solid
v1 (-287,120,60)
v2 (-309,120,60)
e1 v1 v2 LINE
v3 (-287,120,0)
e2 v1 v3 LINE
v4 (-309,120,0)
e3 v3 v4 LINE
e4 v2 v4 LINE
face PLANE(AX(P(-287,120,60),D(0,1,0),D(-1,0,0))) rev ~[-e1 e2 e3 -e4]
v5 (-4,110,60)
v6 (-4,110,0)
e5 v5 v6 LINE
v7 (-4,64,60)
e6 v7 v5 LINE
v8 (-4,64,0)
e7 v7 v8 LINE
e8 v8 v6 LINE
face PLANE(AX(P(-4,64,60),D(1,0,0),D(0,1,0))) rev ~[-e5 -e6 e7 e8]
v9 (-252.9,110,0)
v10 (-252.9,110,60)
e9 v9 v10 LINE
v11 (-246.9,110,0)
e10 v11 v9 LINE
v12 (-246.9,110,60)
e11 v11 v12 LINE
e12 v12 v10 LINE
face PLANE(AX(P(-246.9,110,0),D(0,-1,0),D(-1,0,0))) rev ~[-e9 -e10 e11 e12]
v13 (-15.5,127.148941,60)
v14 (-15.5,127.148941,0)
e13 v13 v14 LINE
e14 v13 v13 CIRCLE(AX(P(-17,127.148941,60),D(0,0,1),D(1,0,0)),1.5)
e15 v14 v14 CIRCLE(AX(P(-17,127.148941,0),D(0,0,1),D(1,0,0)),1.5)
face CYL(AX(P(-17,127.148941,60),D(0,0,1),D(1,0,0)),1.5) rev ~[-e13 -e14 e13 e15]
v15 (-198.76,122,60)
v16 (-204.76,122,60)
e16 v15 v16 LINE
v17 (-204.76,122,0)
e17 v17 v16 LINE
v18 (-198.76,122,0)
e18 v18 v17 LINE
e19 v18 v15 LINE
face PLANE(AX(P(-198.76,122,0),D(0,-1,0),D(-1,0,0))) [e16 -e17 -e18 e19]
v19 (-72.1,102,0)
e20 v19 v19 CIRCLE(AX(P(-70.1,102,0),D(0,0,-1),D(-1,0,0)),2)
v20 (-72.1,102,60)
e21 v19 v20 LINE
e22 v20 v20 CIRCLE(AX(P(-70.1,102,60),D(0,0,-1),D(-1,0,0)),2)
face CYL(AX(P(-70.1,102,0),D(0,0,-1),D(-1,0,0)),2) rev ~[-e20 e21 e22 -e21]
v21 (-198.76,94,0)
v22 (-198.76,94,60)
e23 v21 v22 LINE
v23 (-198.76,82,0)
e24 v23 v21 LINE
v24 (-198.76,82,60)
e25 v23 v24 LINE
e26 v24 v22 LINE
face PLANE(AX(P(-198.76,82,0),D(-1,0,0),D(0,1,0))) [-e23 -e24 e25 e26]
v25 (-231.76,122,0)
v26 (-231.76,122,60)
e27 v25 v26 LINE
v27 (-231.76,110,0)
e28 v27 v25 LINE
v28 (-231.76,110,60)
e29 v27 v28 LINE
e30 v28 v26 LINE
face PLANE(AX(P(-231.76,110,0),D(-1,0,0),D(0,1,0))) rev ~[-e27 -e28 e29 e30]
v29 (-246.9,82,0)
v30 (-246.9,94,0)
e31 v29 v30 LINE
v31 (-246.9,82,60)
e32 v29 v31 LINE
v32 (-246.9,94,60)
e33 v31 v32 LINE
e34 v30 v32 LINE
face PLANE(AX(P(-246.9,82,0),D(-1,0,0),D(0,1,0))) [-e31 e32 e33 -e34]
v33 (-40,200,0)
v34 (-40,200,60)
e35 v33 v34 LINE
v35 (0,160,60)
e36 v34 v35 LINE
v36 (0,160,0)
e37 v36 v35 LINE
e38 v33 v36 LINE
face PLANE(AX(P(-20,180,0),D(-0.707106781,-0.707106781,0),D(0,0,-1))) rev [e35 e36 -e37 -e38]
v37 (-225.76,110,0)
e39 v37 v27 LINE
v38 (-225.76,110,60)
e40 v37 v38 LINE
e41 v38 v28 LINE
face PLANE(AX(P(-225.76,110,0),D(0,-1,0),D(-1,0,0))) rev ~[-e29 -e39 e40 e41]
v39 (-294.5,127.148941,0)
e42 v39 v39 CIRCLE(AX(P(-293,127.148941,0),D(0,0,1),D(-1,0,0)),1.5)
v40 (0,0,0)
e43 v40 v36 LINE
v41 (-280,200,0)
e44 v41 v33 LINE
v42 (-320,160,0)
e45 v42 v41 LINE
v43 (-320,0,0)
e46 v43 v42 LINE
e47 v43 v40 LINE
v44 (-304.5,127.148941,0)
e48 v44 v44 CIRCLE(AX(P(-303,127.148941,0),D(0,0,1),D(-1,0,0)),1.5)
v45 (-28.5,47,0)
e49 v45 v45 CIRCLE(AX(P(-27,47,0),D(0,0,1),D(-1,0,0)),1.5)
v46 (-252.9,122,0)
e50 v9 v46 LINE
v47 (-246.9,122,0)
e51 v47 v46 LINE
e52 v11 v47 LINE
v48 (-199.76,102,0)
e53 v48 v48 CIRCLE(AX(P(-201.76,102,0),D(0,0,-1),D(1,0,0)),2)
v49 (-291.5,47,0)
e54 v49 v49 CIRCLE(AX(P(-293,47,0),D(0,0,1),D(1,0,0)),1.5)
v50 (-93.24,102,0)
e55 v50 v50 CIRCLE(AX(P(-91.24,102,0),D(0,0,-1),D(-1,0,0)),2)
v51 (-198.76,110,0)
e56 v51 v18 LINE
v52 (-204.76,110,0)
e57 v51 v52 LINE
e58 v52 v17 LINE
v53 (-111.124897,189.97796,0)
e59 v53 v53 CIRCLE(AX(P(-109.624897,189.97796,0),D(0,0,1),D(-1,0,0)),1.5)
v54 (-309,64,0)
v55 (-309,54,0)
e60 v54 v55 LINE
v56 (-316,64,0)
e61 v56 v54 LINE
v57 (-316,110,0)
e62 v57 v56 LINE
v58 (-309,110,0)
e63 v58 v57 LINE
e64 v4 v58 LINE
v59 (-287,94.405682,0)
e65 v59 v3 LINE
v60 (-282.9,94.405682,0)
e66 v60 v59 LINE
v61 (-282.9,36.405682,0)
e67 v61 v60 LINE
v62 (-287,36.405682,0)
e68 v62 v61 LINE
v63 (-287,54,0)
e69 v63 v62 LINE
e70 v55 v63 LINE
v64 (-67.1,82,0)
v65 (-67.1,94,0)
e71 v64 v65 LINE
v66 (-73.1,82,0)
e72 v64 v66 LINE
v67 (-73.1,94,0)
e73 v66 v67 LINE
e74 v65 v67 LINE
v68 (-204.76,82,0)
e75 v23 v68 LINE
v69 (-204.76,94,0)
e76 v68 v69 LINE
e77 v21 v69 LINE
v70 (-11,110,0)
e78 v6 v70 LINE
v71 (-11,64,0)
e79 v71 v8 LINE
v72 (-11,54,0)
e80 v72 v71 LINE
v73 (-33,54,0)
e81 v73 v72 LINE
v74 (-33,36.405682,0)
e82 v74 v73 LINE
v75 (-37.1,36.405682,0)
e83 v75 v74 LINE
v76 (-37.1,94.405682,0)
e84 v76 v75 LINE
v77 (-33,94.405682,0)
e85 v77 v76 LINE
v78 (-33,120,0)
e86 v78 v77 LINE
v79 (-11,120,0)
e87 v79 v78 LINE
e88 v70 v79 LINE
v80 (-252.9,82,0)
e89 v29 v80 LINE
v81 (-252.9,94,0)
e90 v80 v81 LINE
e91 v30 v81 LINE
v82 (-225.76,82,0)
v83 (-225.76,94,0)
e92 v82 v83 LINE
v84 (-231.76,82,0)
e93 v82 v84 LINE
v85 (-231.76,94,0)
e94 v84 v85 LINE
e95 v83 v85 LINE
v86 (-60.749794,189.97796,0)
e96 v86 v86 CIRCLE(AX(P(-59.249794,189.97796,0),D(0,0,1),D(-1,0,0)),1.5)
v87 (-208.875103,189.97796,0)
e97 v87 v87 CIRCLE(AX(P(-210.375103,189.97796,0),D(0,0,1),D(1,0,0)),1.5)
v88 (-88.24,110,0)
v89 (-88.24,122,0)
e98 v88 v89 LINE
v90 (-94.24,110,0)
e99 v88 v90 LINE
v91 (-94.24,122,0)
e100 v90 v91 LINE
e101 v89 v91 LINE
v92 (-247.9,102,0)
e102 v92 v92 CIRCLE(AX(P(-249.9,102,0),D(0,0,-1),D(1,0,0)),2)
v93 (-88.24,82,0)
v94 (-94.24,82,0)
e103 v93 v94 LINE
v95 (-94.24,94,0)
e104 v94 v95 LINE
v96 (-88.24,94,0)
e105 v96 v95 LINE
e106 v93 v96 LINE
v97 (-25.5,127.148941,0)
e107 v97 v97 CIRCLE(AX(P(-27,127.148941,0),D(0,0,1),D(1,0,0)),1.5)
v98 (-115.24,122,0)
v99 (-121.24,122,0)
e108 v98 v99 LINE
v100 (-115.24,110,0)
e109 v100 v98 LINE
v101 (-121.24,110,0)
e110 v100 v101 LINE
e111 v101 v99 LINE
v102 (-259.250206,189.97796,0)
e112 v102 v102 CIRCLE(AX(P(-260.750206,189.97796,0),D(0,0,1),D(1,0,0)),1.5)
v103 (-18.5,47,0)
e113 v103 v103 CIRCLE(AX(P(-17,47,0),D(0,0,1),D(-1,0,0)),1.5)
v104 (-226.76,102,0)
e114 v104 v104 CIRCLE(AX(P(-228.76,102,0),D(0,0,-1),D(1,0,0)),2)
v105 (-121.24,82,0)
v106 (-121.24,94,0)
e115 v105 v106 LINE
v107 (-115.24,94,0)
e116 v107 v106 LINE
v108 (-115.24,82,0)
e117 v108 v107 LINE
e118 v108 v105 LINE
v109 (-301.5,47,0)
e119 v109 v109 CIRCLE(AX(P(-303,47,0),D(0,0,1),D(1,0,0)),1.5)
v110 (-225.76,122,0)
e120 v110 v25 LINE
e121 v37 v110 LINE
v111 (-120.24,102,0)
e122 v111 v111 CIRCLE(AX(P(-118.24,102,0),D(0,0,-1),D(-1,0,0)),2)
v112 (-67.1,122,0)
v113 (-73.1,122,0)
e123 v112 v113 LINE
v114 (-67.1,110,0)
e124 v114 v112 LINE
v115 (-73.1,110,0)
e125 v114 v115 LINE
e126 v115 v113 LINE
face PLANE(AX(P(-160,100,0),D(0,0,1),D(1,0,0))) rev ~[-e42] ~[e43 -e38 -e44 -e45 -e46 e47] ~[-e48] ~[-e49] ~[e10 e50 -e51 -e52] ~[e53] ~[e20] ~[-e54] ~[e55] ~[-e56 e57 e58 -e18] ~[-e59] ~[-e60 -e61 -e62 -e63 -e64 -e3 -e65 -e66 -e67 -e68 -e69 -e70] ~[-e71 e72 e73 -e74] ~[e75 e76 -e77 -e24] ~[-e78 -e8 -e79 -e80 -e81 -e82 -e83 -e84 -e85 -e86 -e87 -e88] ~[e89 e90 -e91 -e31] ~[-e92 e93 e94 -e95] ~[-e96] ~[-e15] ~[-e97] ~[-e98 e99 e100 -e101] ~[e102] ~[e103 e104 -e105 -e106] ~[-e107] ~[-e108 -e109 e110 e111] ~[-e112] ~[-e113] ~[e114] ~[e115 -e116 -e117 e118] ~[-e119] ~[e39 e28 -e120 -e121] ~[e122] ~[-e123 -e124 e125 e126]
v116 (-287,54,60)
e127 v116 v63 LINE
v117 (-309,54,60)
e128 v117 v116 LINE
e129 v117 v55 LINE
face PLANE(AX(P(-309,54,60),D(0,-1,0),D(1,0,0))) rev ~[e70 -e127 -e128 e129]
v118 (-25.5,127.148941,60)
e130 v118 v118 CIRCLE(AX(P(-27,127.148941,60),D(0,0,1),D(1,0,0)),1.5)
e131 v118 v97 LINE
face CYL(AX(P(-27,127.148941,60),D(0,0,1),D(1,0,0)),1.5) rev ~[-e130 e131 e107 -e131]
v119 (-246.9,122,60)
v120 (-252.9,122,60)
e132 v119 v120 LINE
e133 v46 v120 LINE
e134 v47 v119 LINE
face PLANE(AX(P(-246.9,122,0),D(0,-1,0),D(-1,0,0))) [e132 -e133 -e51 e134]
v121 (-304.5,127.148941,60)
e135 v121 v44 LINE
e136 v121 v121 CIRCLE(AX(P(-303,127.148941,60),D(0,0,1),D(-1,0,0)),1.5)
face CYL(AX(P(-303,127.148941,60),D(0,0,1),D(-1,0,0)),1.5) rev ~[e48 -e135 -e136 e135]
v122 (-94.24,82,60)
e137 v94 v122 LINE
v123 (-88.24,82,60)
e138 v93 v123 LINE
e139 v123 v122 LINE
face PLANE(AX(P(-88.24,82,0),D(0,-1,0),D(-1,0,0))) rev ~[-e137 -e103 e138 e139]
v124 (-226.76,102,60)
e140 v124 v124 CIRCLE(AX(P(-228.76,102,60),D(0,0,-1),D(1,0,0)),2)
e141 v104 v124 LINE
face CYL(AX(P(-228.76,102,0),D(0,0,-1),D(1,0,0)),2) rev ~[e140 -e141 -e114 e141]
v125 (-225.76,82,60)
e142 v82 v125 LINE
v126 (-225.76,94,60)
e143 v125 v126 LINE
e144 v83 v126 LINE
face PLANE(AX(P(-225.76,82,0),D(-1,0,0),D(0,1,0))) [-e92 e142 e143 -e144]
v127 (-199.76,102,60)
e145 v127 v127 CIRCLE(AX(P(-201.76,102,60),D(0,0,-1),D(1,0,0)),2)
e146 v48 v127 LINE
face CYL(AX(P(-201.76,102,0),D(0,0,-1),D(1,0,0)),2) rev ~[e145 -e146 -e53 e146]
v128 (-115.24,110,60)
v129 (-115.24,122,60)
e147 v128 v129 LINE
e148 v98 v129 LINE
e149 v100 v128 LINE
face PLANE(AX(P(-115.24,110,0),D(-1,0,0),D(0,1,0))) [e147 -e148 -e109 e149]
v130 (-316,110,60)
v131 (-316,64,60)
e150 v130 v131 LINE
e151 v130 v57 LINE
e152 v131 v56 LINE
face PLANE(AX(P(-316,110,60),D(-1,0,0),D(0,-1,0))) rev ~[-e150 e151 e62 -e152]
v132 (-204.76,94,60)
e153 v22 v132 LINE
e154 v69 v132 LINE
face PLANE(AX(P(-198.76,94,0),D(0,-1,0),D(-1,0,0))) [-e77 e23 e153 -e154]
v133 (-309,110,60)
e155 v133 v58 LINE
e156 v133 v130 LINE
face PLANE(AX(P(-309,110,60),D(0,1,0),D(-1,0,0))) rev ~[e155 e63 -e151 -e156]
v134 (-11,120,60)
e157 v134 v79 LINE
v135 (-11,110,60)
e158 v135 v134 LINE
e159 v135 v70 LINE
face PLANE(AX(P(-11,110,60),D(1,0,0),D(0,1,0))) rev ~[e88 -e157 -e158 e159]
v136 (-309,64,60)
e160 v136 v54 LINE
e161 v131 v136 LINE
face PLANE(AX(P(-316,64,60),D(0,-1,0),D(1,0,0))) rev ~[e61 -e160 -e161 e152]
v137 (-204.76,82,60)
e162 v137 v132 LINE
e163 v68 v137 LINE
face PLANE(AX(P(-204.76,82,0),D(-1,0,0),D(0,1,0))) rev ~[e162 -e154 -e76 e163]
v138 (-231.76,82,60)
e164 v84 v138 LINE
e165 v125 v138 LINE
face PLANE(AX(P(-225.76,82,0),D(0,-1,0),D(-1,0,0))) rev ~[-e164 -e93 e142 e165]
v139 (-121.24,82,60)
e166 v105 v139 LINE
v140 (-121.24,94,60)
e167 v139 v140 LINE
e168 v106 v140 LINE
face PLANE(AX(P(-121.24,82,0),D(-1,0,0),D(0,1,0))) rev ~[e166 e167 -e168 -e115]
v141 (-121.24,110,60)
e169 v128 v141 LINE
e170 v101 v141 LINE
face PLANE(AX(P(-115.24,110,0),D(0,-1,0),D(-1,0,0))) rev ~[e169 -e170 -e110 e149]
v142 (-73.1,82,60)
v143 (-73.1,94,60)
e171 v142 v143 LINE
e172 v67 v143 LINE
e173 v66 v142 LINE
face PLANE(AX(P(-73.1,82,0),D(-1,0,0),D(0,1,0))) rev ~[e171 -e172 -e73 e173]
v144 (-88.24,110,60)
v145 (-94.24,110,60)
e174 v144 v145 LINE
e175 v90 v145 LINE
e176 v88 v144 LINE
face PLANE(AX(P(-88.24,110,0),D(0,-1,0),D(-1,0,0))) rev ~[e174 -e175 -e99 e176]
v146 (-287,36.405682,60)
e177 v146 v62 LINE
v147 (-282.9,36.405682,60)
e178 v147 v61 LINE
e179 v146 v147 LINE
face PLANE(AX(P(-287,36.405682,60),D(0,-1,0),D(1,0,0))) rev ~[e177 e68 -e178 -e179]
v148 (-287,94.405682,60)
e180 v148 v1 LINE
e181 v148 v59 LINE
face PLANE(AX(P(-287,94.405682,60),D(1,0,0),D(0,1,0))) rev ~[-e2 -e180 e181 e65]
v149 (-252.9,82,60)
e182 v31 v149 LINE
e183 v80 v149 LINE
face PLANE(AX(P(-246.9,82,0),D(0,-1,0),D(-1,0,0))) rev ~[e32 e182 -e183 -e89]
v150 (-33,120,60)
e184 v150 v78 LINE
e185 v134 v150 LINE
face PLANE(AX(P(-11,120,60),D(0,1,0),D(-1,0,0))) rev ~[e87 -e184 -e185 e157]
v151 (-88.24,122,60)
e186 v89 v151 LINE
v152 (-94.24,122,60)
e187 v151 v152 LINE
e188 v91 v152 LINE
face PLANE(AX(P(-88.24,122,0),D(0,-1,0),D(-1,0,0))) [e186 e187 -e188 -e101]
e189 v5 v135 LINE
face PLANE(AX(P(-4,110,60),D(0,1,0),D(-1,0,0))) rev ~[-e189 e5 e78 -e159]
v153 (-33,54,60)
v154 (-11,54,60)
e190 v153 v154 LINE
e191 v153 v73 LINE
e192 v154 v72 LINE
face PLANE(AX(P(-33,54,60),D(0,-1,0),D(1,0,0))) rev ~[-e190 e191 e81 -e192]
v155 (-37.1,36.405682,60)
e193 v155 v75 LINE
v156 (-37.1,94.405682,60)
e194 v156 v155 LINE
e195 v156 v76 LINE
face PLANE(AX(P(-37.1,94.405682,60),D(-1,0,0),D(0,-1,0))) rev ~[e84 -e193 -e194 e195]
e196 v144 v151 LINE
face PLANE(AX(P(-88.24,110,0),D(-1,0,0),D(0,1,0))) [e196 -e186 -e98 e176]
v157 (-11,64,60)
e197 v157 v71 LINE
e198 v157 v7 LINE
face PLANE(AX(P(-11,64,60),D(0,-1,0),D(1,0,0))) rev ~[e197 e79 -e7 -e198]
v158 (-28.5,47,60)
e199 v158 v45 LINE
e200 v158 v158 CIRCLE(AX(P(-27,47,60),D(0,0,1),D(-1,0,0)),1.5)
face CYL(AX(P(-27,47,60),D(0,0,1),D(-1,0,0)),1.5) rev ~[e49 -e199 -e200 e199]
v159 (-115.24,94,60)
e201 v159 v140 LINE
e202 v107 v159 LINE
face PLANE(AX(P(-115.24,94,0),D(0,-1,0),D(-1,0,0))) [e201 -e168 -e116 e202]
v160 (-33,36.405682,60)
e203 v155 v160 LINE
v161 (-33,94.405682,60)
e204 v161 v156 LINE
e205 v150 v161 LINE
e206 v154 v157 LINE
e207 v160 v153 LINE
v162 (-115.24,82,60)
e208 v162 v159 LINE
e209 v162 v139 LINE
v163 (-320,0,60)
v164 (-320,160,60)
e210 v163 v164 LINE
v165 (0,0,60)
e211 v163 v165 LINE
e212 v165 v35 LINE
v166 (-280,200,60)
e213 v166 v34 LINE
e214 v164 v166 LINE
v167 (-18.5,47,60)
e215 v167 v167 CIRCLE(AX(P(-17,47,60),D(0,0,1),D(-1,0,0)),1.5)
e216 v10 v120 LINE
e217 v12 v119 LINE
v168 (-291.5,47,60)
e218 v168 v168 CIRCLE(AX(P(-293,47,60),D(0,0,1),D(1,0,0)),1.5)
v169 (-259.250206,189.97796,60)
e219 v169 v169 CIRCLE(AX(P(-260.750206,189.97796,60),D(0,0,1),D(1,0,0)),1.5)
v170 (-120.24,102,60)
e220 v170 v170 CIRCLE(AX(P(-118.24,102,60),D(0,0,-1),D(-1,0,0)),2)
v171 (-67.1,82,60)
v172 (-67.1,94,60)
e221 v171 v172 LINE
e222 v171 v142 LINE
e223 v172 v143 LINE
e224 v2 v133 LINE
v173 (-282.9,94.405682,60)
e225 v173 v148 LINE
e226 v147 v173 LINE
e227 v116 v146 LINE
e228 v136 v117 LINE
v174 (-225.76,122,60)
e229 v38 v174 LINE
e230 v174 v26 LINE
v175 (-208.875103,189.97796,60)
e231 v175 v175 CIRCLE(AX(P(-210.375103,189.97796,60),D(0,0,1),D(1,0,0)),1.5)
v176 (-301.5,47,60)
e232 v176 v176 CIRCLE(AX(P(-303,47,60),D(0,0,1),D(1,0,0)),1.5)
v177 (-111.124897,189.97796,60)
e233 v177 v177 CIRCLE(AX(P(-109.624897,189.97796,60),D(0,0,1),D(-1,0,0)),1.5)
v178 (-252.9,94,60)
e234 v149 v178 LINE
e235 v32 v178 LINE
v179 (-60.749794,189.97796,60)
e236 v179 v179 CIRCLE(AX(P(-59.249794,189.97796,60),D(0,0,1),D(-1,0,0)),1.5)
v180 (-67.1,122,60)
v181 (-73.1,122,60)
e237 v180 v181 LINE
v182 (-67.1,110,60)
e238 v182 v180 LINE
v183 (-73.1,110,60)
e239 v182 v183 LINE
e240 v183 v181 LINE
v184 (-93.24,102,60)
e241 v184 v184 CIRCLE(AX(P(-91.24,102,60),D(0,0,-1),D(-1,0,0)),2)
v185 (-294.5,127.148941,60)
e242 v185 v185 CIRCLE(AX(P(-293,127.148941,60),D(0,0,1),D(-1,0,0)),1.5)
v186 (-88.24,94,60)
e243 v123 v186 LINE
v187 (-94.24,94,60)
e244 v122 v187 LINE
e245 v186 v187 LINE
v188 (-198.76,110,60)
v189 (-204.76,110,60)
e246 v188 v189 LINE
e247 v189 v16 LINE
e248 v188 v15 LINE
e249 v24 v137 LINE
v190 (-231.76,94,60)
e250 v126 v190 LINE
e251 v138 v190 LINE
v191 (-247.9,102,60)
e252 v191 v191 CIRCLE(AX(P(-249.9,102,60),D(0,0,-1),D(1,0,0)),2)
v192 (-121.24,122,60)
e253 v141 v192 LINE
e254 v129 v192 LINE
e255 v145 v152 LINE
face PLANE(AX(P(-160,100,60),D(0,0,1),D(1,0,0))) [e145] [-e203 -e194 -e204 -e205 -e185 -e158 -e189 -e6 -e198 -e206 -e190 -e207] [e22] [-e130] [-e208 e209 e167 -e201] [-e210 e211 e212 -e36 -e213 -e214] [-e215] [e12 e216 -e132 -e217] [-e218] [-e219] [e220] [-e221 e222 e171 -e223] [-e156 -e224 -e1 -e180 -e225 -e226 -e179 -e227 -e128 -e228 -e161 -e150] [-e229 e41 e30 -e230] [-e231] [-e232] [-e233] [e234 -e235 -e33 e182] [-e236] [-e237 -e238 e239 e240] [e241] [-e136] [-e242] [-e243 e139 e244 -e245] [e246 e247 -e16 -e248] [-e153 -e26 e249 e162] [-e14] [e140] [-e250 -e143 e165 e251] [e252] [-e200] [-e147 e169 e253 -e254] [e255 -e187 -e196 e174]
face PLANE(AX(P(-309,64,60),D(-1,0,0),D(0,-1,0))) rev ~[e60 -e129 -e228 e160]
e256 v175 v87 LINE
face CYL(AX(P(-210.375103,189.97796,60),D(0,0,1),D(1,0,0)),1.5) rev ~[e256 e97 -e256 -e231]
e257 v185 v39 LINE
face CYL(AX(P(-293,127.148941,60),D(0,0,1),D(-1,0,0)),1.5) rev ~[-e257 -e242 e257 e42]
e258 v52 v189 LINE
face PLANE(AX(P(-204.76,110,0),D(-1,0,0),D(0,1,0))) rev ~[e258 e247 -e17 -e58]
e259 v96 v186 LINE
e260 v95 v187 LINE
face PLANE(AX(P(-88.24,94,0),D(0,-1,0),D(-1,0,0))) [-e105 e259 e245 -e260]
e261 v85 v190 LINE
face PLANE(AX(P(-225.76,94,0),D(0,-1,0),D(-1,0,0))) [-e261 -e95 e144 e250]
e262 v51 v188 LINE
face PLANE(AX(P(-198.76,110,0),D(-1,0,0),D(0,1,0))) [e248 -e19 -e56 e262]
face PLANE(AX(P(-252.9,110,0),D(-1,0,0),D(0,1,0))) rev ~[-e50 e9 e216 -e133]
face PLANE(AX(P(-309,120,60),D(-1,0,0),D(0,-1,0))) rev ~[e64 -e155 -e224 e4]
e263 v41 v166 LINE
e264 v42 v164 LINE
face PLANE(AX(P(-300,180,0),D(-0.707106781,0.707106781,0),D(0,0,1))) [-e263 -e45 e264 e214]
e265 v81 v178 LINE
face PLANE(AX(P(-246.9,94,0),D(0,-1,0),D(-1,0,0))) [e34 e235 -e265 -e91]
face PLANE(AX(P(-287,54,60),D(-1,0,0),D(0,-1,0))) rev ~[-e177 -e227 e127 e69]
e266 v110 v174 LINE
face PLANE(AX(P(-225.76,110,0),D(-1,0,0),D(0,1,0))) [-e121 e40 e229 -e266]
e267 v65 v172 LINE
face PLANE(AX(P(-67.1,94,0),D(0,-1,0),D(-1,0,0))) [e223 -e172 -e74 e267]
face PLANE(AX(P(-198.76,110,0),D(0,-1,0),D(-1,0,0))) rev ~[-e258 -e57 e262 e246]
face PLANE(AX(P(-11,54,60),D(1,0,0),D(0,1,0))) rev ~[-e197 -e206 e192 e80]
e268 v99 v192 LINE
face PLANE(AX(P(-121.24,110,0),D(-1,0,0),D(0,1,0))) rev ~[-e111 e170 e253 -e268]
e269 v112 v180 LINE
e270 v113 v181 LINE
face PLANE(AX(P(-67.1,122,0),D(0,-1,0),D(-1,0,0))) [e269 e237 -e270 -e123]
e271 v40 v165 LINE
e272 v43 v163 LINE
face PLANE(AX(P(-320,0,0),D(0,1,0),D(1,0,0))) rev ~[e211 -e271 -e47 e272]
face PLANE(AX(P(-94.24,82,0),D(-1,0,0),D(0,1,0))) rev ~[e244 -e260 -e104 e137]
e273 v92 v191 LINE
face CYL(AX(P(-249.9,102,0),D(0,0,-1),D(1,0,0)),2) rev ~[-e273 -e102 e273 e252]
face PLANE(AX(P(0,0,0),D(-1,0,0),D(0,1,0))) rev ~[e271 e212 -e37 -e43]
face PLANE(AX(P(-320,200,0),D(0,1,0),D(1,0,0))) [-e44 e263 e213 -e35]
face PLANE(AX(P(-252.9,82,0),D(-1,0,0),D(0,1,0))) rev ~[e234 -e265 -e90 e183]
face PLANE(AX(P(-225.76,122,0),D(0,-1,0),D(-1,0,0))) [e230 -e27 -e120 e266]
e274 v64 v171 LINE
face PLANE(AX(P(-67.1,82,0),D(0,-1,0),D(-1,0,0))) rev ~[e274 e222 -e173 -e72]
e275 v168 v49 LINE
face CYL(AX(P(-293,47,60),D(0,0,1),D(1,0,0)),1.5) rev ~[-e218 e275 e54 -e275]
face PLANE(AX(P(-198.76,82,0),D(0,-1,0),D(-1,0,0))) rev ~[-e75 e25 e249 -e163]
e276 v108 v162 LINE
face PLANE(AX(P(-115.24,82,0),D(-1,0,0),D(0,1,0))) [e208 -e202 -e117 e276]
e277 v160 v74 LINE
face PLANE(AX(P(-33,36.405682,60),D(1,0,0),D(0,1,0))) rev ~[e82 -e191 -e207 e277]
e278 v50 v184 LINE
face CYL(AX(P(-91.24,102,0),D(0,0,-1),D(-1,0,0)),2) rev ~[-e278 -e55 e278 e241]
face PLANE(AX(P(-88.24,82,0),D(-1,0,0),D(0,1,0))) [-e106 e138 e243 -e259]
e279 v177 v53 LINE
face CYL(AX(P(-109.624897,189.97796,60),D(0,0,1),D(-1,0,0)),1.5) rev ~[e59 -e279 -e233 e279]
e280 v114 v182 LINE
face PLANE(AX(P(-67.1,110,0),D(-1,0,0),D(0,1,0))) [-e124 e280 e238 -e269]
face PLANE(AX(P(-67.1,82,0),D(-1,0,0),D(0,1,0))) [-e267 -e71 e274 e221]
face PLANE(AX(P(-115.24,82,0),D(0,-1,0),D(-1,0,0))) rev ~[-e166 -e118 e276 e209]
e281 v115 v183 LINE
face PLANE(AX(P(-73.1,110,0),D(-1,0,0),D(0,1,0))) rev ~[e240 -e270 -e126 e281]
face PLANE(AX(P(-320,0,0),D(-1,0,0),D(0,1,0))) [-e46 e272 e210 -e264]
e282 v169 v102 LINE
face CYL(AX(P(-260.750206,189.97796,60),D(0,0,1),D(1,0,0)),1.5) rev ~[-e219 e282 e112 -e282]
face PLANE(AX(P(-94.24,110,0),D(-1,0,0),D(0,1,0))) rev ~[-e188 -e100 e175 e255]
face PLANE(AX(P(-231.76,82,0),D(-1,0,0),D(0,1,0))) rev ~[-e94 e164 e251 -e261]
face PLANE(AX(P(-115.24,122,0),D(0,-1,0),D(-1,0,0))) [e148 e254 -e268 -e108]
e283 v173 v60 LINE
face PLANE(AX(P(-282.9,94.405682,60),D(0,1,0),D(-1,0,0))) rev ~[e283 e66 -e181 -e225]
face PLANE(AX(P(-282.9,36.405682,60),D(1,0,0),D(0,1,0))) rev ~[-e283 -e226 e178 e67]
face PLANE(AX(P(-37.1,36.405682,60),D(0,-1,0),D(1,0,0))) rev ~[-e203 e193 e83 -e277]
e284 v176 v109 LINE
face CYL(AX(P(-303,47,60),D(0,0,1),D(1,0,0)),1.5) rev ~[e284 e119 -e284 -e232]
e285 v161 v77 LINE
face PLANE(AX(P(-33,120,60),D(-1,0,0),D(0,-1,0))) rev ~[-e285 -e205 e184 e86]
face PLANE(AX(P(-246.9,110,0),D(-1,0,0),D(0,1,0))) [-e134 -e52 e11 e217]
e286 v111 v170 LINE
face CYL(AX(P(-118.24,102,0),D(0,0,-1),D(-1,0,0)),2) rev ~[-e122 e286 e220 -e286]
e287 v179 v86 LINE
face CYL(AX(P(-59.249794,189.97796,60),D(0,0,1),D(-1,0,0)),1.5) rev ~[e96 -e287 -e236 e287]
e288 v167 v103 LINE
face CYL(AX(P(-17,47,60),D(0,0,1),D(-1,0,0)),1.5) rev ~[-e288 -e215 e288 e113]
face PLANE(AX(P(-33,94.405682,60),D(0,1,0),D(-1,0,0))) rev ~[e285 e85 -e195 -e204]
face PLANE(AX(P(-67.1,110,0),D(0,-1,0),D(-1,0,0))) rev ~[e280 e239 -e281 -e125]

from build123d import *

# Parameters (mm, degrees)
ESQUISSE1_W             = 320
ESQUISSE1_H             = 200
BOSS_EXTRU_1_DEPTH      = 60
ESQUISSE3_R             = 2
ESQUISSE3_W             = 6
ESQUISSE3_H             = 12
ENL_V_MAT_EXTRU_2_DEPTH = 60
CHANFREIN1_SIZE         = 40
ESQUISSE6_R             = 1.5
ENL_V_MAT_EXTRU_3_DEPTH = 60


with BuildPart() as part:
    # Esquisse1 → Boss.-Extru.1 (new body)
    with BuildSketch(Plane.XY):
        with Locations((-160, 100)):
            Rectangle(ESQUISSE1_W, ESQUISSE1_H)
    extrude(amount=BOSS_EXTRU_1_DEPTH)

    # Esquisse3 → Enlèv. mat.-Extru.2 (cut)
    with BuildSketch(Plane(origin=(0, 0, 0), x_dir=(-1, 0, 0), z_dir=(0, 0, -1))):
        with Locations((70.1, 102)):
            Circle(ESQUISSE3_R)
        with Locations((91.24, 102)):
            Circle(ESQUISSE3_R)
        with Locations((118.24, 102)):
            Circle(ESQUISSE3_R)
        with Locations(Location((201.76, 102, 0), (0, 0, 180))):
            Circle(ESQUISSE3_R)
        with Locations(Location((228.76, 102, 0), (0, 0, 180))):
            Circle(ESQUISSE3_R)
        with Locations(Location((249.9, 102, 0), (0, 0, 180))):
            Circle(ESQUISSE3_R)
        with Locations((70.1, 88)):
            Rectangle(ESQUISSE3_W, ESQUISSE3_H)
        with Locations((70.1, 116)):
            Rectangle(ESQUISSE3_W, ESQUISSE3_H)
        with Locations((91.24, 88)):
            Rectangle(ESQUISSE3_W, ESQUISSE3_H)
        with Locations((91.24, 116)):
            Rectangle(ESQUISSE3_W, ESQUISSE3_H)
        with Locations((118.24, 88)):
            Rectangle(ESQUISSE3_W, ESQUISSE3_H)
        with Locations((118.24, 116)):
            Rectangle(ESQUISSE3_W, ESQUISSE3_H)
        with Locations((201.76, 88)):
            Rectangle(ESQUISSE3_W, ESQUISSE3_H)
        with Locations((201.76, 116)):
            Rectangle(ESQUISSE3_W, ESQUISSE3_H)
        with Locations((228.76, 88)):
            Rectangle(ESQUISSE3_W, ESQUISSE3_H)
        with Locations((228.76, 116)):
            Rectangle(ESQUISSE3_W, ESQUISSE3_H)
        with Locations((249.9, 88)):
            Rectangle(ESQUISSE3_W, ESQUISSE3_H)
        with Locations((249.9, 116)):
            Rectangle(ESQUISSE3_W, ESQUISSE3_H)
    extrude(amount=-ENL_V_MAT_EXTRU_2_DEPTH, mode=Mode.SUBTRACT)

    # Chanfrein1
    chanfrein1_edges = [part.edges().sort_by_distance(p)[0] for p in [
        (-320, 200, 30),
        (0, 200, 30),
    ]]
    chamfer(chanfrein1_edges, length=CHANFREIN1_SIZE)

    # Esquisse6 → Enlèv. mat.-Extru.3 (cut)
    with BuildSketch(Plane.XY.offset(60)):
        with Locations((-260.750206469, 189.977960498)):
            Circle(ESQUISSE6_R)
        with Locations((-210.375103235, 189.977960498)):
            Circle(ESQUISSE6_R)
        with Locations(Location((-109.624896765, 189.977960498, 0), (0, 0, 180))):
            Circle(ESQUISSE6_R)
        with Locations(Location((-59.249793531, 189.977960498, 0), (0, 0, 180))):
            Circle(ESQUISSE6_R)
        with Locations((-303, 47)):
            Circle(ESQUISSE6_R)
        with Locations((-293, 47)):
            Circle(ESQUISSE6_R)
        with Locations(Location((-293, 127.148940914, 0), (0, 0, 180))):
            Circle(ESQUISSE6_R)
        with Locations(Location((-303, 127.148940914, 0), (0, 0, 180))):
            Circle(ESQUISSE6_R)
        with Locations(Location((-27, 47, 0), (0, 0, 180))):
            Circle(ESQUISSE6_R)
        with Locations(Location((-17, 47, 0), (0, 0, 180))):
            Circle(ESQUISSE6_R)
        with Locations((-17, 127.148940914)):
            Circle(ESQUISSE6_R)
        with Locations((-27, 127.148940914)):
            Circle(ESQUISSE6_R)
        Polygon((-287, 120), (-309, 120), (-309, 110), (-316, 110), (-316, 64), (-309, 64), (-309, 54), (-287, 54), (-287, 36.405681604), (-282.9, 36.405681604), (-282.9, 94.405681604), (-287, 94.405681604), align=None)
        Polygon((-33, 36.405681604), (-33, 54), (-11, 54), (-11, 64), (-4, 64), (-4, 110), (-11, 110), (-11, 120), (-33, 120), (-33, 94.405681604), (-37.1, 94.405681604), (-37.1, 36.405681604), align=None)
    extrude(amount=-ENL_V_MAT_EXTRU_3_DEPTH, mode=Mode.SUBTRACT)


solid = part.part
